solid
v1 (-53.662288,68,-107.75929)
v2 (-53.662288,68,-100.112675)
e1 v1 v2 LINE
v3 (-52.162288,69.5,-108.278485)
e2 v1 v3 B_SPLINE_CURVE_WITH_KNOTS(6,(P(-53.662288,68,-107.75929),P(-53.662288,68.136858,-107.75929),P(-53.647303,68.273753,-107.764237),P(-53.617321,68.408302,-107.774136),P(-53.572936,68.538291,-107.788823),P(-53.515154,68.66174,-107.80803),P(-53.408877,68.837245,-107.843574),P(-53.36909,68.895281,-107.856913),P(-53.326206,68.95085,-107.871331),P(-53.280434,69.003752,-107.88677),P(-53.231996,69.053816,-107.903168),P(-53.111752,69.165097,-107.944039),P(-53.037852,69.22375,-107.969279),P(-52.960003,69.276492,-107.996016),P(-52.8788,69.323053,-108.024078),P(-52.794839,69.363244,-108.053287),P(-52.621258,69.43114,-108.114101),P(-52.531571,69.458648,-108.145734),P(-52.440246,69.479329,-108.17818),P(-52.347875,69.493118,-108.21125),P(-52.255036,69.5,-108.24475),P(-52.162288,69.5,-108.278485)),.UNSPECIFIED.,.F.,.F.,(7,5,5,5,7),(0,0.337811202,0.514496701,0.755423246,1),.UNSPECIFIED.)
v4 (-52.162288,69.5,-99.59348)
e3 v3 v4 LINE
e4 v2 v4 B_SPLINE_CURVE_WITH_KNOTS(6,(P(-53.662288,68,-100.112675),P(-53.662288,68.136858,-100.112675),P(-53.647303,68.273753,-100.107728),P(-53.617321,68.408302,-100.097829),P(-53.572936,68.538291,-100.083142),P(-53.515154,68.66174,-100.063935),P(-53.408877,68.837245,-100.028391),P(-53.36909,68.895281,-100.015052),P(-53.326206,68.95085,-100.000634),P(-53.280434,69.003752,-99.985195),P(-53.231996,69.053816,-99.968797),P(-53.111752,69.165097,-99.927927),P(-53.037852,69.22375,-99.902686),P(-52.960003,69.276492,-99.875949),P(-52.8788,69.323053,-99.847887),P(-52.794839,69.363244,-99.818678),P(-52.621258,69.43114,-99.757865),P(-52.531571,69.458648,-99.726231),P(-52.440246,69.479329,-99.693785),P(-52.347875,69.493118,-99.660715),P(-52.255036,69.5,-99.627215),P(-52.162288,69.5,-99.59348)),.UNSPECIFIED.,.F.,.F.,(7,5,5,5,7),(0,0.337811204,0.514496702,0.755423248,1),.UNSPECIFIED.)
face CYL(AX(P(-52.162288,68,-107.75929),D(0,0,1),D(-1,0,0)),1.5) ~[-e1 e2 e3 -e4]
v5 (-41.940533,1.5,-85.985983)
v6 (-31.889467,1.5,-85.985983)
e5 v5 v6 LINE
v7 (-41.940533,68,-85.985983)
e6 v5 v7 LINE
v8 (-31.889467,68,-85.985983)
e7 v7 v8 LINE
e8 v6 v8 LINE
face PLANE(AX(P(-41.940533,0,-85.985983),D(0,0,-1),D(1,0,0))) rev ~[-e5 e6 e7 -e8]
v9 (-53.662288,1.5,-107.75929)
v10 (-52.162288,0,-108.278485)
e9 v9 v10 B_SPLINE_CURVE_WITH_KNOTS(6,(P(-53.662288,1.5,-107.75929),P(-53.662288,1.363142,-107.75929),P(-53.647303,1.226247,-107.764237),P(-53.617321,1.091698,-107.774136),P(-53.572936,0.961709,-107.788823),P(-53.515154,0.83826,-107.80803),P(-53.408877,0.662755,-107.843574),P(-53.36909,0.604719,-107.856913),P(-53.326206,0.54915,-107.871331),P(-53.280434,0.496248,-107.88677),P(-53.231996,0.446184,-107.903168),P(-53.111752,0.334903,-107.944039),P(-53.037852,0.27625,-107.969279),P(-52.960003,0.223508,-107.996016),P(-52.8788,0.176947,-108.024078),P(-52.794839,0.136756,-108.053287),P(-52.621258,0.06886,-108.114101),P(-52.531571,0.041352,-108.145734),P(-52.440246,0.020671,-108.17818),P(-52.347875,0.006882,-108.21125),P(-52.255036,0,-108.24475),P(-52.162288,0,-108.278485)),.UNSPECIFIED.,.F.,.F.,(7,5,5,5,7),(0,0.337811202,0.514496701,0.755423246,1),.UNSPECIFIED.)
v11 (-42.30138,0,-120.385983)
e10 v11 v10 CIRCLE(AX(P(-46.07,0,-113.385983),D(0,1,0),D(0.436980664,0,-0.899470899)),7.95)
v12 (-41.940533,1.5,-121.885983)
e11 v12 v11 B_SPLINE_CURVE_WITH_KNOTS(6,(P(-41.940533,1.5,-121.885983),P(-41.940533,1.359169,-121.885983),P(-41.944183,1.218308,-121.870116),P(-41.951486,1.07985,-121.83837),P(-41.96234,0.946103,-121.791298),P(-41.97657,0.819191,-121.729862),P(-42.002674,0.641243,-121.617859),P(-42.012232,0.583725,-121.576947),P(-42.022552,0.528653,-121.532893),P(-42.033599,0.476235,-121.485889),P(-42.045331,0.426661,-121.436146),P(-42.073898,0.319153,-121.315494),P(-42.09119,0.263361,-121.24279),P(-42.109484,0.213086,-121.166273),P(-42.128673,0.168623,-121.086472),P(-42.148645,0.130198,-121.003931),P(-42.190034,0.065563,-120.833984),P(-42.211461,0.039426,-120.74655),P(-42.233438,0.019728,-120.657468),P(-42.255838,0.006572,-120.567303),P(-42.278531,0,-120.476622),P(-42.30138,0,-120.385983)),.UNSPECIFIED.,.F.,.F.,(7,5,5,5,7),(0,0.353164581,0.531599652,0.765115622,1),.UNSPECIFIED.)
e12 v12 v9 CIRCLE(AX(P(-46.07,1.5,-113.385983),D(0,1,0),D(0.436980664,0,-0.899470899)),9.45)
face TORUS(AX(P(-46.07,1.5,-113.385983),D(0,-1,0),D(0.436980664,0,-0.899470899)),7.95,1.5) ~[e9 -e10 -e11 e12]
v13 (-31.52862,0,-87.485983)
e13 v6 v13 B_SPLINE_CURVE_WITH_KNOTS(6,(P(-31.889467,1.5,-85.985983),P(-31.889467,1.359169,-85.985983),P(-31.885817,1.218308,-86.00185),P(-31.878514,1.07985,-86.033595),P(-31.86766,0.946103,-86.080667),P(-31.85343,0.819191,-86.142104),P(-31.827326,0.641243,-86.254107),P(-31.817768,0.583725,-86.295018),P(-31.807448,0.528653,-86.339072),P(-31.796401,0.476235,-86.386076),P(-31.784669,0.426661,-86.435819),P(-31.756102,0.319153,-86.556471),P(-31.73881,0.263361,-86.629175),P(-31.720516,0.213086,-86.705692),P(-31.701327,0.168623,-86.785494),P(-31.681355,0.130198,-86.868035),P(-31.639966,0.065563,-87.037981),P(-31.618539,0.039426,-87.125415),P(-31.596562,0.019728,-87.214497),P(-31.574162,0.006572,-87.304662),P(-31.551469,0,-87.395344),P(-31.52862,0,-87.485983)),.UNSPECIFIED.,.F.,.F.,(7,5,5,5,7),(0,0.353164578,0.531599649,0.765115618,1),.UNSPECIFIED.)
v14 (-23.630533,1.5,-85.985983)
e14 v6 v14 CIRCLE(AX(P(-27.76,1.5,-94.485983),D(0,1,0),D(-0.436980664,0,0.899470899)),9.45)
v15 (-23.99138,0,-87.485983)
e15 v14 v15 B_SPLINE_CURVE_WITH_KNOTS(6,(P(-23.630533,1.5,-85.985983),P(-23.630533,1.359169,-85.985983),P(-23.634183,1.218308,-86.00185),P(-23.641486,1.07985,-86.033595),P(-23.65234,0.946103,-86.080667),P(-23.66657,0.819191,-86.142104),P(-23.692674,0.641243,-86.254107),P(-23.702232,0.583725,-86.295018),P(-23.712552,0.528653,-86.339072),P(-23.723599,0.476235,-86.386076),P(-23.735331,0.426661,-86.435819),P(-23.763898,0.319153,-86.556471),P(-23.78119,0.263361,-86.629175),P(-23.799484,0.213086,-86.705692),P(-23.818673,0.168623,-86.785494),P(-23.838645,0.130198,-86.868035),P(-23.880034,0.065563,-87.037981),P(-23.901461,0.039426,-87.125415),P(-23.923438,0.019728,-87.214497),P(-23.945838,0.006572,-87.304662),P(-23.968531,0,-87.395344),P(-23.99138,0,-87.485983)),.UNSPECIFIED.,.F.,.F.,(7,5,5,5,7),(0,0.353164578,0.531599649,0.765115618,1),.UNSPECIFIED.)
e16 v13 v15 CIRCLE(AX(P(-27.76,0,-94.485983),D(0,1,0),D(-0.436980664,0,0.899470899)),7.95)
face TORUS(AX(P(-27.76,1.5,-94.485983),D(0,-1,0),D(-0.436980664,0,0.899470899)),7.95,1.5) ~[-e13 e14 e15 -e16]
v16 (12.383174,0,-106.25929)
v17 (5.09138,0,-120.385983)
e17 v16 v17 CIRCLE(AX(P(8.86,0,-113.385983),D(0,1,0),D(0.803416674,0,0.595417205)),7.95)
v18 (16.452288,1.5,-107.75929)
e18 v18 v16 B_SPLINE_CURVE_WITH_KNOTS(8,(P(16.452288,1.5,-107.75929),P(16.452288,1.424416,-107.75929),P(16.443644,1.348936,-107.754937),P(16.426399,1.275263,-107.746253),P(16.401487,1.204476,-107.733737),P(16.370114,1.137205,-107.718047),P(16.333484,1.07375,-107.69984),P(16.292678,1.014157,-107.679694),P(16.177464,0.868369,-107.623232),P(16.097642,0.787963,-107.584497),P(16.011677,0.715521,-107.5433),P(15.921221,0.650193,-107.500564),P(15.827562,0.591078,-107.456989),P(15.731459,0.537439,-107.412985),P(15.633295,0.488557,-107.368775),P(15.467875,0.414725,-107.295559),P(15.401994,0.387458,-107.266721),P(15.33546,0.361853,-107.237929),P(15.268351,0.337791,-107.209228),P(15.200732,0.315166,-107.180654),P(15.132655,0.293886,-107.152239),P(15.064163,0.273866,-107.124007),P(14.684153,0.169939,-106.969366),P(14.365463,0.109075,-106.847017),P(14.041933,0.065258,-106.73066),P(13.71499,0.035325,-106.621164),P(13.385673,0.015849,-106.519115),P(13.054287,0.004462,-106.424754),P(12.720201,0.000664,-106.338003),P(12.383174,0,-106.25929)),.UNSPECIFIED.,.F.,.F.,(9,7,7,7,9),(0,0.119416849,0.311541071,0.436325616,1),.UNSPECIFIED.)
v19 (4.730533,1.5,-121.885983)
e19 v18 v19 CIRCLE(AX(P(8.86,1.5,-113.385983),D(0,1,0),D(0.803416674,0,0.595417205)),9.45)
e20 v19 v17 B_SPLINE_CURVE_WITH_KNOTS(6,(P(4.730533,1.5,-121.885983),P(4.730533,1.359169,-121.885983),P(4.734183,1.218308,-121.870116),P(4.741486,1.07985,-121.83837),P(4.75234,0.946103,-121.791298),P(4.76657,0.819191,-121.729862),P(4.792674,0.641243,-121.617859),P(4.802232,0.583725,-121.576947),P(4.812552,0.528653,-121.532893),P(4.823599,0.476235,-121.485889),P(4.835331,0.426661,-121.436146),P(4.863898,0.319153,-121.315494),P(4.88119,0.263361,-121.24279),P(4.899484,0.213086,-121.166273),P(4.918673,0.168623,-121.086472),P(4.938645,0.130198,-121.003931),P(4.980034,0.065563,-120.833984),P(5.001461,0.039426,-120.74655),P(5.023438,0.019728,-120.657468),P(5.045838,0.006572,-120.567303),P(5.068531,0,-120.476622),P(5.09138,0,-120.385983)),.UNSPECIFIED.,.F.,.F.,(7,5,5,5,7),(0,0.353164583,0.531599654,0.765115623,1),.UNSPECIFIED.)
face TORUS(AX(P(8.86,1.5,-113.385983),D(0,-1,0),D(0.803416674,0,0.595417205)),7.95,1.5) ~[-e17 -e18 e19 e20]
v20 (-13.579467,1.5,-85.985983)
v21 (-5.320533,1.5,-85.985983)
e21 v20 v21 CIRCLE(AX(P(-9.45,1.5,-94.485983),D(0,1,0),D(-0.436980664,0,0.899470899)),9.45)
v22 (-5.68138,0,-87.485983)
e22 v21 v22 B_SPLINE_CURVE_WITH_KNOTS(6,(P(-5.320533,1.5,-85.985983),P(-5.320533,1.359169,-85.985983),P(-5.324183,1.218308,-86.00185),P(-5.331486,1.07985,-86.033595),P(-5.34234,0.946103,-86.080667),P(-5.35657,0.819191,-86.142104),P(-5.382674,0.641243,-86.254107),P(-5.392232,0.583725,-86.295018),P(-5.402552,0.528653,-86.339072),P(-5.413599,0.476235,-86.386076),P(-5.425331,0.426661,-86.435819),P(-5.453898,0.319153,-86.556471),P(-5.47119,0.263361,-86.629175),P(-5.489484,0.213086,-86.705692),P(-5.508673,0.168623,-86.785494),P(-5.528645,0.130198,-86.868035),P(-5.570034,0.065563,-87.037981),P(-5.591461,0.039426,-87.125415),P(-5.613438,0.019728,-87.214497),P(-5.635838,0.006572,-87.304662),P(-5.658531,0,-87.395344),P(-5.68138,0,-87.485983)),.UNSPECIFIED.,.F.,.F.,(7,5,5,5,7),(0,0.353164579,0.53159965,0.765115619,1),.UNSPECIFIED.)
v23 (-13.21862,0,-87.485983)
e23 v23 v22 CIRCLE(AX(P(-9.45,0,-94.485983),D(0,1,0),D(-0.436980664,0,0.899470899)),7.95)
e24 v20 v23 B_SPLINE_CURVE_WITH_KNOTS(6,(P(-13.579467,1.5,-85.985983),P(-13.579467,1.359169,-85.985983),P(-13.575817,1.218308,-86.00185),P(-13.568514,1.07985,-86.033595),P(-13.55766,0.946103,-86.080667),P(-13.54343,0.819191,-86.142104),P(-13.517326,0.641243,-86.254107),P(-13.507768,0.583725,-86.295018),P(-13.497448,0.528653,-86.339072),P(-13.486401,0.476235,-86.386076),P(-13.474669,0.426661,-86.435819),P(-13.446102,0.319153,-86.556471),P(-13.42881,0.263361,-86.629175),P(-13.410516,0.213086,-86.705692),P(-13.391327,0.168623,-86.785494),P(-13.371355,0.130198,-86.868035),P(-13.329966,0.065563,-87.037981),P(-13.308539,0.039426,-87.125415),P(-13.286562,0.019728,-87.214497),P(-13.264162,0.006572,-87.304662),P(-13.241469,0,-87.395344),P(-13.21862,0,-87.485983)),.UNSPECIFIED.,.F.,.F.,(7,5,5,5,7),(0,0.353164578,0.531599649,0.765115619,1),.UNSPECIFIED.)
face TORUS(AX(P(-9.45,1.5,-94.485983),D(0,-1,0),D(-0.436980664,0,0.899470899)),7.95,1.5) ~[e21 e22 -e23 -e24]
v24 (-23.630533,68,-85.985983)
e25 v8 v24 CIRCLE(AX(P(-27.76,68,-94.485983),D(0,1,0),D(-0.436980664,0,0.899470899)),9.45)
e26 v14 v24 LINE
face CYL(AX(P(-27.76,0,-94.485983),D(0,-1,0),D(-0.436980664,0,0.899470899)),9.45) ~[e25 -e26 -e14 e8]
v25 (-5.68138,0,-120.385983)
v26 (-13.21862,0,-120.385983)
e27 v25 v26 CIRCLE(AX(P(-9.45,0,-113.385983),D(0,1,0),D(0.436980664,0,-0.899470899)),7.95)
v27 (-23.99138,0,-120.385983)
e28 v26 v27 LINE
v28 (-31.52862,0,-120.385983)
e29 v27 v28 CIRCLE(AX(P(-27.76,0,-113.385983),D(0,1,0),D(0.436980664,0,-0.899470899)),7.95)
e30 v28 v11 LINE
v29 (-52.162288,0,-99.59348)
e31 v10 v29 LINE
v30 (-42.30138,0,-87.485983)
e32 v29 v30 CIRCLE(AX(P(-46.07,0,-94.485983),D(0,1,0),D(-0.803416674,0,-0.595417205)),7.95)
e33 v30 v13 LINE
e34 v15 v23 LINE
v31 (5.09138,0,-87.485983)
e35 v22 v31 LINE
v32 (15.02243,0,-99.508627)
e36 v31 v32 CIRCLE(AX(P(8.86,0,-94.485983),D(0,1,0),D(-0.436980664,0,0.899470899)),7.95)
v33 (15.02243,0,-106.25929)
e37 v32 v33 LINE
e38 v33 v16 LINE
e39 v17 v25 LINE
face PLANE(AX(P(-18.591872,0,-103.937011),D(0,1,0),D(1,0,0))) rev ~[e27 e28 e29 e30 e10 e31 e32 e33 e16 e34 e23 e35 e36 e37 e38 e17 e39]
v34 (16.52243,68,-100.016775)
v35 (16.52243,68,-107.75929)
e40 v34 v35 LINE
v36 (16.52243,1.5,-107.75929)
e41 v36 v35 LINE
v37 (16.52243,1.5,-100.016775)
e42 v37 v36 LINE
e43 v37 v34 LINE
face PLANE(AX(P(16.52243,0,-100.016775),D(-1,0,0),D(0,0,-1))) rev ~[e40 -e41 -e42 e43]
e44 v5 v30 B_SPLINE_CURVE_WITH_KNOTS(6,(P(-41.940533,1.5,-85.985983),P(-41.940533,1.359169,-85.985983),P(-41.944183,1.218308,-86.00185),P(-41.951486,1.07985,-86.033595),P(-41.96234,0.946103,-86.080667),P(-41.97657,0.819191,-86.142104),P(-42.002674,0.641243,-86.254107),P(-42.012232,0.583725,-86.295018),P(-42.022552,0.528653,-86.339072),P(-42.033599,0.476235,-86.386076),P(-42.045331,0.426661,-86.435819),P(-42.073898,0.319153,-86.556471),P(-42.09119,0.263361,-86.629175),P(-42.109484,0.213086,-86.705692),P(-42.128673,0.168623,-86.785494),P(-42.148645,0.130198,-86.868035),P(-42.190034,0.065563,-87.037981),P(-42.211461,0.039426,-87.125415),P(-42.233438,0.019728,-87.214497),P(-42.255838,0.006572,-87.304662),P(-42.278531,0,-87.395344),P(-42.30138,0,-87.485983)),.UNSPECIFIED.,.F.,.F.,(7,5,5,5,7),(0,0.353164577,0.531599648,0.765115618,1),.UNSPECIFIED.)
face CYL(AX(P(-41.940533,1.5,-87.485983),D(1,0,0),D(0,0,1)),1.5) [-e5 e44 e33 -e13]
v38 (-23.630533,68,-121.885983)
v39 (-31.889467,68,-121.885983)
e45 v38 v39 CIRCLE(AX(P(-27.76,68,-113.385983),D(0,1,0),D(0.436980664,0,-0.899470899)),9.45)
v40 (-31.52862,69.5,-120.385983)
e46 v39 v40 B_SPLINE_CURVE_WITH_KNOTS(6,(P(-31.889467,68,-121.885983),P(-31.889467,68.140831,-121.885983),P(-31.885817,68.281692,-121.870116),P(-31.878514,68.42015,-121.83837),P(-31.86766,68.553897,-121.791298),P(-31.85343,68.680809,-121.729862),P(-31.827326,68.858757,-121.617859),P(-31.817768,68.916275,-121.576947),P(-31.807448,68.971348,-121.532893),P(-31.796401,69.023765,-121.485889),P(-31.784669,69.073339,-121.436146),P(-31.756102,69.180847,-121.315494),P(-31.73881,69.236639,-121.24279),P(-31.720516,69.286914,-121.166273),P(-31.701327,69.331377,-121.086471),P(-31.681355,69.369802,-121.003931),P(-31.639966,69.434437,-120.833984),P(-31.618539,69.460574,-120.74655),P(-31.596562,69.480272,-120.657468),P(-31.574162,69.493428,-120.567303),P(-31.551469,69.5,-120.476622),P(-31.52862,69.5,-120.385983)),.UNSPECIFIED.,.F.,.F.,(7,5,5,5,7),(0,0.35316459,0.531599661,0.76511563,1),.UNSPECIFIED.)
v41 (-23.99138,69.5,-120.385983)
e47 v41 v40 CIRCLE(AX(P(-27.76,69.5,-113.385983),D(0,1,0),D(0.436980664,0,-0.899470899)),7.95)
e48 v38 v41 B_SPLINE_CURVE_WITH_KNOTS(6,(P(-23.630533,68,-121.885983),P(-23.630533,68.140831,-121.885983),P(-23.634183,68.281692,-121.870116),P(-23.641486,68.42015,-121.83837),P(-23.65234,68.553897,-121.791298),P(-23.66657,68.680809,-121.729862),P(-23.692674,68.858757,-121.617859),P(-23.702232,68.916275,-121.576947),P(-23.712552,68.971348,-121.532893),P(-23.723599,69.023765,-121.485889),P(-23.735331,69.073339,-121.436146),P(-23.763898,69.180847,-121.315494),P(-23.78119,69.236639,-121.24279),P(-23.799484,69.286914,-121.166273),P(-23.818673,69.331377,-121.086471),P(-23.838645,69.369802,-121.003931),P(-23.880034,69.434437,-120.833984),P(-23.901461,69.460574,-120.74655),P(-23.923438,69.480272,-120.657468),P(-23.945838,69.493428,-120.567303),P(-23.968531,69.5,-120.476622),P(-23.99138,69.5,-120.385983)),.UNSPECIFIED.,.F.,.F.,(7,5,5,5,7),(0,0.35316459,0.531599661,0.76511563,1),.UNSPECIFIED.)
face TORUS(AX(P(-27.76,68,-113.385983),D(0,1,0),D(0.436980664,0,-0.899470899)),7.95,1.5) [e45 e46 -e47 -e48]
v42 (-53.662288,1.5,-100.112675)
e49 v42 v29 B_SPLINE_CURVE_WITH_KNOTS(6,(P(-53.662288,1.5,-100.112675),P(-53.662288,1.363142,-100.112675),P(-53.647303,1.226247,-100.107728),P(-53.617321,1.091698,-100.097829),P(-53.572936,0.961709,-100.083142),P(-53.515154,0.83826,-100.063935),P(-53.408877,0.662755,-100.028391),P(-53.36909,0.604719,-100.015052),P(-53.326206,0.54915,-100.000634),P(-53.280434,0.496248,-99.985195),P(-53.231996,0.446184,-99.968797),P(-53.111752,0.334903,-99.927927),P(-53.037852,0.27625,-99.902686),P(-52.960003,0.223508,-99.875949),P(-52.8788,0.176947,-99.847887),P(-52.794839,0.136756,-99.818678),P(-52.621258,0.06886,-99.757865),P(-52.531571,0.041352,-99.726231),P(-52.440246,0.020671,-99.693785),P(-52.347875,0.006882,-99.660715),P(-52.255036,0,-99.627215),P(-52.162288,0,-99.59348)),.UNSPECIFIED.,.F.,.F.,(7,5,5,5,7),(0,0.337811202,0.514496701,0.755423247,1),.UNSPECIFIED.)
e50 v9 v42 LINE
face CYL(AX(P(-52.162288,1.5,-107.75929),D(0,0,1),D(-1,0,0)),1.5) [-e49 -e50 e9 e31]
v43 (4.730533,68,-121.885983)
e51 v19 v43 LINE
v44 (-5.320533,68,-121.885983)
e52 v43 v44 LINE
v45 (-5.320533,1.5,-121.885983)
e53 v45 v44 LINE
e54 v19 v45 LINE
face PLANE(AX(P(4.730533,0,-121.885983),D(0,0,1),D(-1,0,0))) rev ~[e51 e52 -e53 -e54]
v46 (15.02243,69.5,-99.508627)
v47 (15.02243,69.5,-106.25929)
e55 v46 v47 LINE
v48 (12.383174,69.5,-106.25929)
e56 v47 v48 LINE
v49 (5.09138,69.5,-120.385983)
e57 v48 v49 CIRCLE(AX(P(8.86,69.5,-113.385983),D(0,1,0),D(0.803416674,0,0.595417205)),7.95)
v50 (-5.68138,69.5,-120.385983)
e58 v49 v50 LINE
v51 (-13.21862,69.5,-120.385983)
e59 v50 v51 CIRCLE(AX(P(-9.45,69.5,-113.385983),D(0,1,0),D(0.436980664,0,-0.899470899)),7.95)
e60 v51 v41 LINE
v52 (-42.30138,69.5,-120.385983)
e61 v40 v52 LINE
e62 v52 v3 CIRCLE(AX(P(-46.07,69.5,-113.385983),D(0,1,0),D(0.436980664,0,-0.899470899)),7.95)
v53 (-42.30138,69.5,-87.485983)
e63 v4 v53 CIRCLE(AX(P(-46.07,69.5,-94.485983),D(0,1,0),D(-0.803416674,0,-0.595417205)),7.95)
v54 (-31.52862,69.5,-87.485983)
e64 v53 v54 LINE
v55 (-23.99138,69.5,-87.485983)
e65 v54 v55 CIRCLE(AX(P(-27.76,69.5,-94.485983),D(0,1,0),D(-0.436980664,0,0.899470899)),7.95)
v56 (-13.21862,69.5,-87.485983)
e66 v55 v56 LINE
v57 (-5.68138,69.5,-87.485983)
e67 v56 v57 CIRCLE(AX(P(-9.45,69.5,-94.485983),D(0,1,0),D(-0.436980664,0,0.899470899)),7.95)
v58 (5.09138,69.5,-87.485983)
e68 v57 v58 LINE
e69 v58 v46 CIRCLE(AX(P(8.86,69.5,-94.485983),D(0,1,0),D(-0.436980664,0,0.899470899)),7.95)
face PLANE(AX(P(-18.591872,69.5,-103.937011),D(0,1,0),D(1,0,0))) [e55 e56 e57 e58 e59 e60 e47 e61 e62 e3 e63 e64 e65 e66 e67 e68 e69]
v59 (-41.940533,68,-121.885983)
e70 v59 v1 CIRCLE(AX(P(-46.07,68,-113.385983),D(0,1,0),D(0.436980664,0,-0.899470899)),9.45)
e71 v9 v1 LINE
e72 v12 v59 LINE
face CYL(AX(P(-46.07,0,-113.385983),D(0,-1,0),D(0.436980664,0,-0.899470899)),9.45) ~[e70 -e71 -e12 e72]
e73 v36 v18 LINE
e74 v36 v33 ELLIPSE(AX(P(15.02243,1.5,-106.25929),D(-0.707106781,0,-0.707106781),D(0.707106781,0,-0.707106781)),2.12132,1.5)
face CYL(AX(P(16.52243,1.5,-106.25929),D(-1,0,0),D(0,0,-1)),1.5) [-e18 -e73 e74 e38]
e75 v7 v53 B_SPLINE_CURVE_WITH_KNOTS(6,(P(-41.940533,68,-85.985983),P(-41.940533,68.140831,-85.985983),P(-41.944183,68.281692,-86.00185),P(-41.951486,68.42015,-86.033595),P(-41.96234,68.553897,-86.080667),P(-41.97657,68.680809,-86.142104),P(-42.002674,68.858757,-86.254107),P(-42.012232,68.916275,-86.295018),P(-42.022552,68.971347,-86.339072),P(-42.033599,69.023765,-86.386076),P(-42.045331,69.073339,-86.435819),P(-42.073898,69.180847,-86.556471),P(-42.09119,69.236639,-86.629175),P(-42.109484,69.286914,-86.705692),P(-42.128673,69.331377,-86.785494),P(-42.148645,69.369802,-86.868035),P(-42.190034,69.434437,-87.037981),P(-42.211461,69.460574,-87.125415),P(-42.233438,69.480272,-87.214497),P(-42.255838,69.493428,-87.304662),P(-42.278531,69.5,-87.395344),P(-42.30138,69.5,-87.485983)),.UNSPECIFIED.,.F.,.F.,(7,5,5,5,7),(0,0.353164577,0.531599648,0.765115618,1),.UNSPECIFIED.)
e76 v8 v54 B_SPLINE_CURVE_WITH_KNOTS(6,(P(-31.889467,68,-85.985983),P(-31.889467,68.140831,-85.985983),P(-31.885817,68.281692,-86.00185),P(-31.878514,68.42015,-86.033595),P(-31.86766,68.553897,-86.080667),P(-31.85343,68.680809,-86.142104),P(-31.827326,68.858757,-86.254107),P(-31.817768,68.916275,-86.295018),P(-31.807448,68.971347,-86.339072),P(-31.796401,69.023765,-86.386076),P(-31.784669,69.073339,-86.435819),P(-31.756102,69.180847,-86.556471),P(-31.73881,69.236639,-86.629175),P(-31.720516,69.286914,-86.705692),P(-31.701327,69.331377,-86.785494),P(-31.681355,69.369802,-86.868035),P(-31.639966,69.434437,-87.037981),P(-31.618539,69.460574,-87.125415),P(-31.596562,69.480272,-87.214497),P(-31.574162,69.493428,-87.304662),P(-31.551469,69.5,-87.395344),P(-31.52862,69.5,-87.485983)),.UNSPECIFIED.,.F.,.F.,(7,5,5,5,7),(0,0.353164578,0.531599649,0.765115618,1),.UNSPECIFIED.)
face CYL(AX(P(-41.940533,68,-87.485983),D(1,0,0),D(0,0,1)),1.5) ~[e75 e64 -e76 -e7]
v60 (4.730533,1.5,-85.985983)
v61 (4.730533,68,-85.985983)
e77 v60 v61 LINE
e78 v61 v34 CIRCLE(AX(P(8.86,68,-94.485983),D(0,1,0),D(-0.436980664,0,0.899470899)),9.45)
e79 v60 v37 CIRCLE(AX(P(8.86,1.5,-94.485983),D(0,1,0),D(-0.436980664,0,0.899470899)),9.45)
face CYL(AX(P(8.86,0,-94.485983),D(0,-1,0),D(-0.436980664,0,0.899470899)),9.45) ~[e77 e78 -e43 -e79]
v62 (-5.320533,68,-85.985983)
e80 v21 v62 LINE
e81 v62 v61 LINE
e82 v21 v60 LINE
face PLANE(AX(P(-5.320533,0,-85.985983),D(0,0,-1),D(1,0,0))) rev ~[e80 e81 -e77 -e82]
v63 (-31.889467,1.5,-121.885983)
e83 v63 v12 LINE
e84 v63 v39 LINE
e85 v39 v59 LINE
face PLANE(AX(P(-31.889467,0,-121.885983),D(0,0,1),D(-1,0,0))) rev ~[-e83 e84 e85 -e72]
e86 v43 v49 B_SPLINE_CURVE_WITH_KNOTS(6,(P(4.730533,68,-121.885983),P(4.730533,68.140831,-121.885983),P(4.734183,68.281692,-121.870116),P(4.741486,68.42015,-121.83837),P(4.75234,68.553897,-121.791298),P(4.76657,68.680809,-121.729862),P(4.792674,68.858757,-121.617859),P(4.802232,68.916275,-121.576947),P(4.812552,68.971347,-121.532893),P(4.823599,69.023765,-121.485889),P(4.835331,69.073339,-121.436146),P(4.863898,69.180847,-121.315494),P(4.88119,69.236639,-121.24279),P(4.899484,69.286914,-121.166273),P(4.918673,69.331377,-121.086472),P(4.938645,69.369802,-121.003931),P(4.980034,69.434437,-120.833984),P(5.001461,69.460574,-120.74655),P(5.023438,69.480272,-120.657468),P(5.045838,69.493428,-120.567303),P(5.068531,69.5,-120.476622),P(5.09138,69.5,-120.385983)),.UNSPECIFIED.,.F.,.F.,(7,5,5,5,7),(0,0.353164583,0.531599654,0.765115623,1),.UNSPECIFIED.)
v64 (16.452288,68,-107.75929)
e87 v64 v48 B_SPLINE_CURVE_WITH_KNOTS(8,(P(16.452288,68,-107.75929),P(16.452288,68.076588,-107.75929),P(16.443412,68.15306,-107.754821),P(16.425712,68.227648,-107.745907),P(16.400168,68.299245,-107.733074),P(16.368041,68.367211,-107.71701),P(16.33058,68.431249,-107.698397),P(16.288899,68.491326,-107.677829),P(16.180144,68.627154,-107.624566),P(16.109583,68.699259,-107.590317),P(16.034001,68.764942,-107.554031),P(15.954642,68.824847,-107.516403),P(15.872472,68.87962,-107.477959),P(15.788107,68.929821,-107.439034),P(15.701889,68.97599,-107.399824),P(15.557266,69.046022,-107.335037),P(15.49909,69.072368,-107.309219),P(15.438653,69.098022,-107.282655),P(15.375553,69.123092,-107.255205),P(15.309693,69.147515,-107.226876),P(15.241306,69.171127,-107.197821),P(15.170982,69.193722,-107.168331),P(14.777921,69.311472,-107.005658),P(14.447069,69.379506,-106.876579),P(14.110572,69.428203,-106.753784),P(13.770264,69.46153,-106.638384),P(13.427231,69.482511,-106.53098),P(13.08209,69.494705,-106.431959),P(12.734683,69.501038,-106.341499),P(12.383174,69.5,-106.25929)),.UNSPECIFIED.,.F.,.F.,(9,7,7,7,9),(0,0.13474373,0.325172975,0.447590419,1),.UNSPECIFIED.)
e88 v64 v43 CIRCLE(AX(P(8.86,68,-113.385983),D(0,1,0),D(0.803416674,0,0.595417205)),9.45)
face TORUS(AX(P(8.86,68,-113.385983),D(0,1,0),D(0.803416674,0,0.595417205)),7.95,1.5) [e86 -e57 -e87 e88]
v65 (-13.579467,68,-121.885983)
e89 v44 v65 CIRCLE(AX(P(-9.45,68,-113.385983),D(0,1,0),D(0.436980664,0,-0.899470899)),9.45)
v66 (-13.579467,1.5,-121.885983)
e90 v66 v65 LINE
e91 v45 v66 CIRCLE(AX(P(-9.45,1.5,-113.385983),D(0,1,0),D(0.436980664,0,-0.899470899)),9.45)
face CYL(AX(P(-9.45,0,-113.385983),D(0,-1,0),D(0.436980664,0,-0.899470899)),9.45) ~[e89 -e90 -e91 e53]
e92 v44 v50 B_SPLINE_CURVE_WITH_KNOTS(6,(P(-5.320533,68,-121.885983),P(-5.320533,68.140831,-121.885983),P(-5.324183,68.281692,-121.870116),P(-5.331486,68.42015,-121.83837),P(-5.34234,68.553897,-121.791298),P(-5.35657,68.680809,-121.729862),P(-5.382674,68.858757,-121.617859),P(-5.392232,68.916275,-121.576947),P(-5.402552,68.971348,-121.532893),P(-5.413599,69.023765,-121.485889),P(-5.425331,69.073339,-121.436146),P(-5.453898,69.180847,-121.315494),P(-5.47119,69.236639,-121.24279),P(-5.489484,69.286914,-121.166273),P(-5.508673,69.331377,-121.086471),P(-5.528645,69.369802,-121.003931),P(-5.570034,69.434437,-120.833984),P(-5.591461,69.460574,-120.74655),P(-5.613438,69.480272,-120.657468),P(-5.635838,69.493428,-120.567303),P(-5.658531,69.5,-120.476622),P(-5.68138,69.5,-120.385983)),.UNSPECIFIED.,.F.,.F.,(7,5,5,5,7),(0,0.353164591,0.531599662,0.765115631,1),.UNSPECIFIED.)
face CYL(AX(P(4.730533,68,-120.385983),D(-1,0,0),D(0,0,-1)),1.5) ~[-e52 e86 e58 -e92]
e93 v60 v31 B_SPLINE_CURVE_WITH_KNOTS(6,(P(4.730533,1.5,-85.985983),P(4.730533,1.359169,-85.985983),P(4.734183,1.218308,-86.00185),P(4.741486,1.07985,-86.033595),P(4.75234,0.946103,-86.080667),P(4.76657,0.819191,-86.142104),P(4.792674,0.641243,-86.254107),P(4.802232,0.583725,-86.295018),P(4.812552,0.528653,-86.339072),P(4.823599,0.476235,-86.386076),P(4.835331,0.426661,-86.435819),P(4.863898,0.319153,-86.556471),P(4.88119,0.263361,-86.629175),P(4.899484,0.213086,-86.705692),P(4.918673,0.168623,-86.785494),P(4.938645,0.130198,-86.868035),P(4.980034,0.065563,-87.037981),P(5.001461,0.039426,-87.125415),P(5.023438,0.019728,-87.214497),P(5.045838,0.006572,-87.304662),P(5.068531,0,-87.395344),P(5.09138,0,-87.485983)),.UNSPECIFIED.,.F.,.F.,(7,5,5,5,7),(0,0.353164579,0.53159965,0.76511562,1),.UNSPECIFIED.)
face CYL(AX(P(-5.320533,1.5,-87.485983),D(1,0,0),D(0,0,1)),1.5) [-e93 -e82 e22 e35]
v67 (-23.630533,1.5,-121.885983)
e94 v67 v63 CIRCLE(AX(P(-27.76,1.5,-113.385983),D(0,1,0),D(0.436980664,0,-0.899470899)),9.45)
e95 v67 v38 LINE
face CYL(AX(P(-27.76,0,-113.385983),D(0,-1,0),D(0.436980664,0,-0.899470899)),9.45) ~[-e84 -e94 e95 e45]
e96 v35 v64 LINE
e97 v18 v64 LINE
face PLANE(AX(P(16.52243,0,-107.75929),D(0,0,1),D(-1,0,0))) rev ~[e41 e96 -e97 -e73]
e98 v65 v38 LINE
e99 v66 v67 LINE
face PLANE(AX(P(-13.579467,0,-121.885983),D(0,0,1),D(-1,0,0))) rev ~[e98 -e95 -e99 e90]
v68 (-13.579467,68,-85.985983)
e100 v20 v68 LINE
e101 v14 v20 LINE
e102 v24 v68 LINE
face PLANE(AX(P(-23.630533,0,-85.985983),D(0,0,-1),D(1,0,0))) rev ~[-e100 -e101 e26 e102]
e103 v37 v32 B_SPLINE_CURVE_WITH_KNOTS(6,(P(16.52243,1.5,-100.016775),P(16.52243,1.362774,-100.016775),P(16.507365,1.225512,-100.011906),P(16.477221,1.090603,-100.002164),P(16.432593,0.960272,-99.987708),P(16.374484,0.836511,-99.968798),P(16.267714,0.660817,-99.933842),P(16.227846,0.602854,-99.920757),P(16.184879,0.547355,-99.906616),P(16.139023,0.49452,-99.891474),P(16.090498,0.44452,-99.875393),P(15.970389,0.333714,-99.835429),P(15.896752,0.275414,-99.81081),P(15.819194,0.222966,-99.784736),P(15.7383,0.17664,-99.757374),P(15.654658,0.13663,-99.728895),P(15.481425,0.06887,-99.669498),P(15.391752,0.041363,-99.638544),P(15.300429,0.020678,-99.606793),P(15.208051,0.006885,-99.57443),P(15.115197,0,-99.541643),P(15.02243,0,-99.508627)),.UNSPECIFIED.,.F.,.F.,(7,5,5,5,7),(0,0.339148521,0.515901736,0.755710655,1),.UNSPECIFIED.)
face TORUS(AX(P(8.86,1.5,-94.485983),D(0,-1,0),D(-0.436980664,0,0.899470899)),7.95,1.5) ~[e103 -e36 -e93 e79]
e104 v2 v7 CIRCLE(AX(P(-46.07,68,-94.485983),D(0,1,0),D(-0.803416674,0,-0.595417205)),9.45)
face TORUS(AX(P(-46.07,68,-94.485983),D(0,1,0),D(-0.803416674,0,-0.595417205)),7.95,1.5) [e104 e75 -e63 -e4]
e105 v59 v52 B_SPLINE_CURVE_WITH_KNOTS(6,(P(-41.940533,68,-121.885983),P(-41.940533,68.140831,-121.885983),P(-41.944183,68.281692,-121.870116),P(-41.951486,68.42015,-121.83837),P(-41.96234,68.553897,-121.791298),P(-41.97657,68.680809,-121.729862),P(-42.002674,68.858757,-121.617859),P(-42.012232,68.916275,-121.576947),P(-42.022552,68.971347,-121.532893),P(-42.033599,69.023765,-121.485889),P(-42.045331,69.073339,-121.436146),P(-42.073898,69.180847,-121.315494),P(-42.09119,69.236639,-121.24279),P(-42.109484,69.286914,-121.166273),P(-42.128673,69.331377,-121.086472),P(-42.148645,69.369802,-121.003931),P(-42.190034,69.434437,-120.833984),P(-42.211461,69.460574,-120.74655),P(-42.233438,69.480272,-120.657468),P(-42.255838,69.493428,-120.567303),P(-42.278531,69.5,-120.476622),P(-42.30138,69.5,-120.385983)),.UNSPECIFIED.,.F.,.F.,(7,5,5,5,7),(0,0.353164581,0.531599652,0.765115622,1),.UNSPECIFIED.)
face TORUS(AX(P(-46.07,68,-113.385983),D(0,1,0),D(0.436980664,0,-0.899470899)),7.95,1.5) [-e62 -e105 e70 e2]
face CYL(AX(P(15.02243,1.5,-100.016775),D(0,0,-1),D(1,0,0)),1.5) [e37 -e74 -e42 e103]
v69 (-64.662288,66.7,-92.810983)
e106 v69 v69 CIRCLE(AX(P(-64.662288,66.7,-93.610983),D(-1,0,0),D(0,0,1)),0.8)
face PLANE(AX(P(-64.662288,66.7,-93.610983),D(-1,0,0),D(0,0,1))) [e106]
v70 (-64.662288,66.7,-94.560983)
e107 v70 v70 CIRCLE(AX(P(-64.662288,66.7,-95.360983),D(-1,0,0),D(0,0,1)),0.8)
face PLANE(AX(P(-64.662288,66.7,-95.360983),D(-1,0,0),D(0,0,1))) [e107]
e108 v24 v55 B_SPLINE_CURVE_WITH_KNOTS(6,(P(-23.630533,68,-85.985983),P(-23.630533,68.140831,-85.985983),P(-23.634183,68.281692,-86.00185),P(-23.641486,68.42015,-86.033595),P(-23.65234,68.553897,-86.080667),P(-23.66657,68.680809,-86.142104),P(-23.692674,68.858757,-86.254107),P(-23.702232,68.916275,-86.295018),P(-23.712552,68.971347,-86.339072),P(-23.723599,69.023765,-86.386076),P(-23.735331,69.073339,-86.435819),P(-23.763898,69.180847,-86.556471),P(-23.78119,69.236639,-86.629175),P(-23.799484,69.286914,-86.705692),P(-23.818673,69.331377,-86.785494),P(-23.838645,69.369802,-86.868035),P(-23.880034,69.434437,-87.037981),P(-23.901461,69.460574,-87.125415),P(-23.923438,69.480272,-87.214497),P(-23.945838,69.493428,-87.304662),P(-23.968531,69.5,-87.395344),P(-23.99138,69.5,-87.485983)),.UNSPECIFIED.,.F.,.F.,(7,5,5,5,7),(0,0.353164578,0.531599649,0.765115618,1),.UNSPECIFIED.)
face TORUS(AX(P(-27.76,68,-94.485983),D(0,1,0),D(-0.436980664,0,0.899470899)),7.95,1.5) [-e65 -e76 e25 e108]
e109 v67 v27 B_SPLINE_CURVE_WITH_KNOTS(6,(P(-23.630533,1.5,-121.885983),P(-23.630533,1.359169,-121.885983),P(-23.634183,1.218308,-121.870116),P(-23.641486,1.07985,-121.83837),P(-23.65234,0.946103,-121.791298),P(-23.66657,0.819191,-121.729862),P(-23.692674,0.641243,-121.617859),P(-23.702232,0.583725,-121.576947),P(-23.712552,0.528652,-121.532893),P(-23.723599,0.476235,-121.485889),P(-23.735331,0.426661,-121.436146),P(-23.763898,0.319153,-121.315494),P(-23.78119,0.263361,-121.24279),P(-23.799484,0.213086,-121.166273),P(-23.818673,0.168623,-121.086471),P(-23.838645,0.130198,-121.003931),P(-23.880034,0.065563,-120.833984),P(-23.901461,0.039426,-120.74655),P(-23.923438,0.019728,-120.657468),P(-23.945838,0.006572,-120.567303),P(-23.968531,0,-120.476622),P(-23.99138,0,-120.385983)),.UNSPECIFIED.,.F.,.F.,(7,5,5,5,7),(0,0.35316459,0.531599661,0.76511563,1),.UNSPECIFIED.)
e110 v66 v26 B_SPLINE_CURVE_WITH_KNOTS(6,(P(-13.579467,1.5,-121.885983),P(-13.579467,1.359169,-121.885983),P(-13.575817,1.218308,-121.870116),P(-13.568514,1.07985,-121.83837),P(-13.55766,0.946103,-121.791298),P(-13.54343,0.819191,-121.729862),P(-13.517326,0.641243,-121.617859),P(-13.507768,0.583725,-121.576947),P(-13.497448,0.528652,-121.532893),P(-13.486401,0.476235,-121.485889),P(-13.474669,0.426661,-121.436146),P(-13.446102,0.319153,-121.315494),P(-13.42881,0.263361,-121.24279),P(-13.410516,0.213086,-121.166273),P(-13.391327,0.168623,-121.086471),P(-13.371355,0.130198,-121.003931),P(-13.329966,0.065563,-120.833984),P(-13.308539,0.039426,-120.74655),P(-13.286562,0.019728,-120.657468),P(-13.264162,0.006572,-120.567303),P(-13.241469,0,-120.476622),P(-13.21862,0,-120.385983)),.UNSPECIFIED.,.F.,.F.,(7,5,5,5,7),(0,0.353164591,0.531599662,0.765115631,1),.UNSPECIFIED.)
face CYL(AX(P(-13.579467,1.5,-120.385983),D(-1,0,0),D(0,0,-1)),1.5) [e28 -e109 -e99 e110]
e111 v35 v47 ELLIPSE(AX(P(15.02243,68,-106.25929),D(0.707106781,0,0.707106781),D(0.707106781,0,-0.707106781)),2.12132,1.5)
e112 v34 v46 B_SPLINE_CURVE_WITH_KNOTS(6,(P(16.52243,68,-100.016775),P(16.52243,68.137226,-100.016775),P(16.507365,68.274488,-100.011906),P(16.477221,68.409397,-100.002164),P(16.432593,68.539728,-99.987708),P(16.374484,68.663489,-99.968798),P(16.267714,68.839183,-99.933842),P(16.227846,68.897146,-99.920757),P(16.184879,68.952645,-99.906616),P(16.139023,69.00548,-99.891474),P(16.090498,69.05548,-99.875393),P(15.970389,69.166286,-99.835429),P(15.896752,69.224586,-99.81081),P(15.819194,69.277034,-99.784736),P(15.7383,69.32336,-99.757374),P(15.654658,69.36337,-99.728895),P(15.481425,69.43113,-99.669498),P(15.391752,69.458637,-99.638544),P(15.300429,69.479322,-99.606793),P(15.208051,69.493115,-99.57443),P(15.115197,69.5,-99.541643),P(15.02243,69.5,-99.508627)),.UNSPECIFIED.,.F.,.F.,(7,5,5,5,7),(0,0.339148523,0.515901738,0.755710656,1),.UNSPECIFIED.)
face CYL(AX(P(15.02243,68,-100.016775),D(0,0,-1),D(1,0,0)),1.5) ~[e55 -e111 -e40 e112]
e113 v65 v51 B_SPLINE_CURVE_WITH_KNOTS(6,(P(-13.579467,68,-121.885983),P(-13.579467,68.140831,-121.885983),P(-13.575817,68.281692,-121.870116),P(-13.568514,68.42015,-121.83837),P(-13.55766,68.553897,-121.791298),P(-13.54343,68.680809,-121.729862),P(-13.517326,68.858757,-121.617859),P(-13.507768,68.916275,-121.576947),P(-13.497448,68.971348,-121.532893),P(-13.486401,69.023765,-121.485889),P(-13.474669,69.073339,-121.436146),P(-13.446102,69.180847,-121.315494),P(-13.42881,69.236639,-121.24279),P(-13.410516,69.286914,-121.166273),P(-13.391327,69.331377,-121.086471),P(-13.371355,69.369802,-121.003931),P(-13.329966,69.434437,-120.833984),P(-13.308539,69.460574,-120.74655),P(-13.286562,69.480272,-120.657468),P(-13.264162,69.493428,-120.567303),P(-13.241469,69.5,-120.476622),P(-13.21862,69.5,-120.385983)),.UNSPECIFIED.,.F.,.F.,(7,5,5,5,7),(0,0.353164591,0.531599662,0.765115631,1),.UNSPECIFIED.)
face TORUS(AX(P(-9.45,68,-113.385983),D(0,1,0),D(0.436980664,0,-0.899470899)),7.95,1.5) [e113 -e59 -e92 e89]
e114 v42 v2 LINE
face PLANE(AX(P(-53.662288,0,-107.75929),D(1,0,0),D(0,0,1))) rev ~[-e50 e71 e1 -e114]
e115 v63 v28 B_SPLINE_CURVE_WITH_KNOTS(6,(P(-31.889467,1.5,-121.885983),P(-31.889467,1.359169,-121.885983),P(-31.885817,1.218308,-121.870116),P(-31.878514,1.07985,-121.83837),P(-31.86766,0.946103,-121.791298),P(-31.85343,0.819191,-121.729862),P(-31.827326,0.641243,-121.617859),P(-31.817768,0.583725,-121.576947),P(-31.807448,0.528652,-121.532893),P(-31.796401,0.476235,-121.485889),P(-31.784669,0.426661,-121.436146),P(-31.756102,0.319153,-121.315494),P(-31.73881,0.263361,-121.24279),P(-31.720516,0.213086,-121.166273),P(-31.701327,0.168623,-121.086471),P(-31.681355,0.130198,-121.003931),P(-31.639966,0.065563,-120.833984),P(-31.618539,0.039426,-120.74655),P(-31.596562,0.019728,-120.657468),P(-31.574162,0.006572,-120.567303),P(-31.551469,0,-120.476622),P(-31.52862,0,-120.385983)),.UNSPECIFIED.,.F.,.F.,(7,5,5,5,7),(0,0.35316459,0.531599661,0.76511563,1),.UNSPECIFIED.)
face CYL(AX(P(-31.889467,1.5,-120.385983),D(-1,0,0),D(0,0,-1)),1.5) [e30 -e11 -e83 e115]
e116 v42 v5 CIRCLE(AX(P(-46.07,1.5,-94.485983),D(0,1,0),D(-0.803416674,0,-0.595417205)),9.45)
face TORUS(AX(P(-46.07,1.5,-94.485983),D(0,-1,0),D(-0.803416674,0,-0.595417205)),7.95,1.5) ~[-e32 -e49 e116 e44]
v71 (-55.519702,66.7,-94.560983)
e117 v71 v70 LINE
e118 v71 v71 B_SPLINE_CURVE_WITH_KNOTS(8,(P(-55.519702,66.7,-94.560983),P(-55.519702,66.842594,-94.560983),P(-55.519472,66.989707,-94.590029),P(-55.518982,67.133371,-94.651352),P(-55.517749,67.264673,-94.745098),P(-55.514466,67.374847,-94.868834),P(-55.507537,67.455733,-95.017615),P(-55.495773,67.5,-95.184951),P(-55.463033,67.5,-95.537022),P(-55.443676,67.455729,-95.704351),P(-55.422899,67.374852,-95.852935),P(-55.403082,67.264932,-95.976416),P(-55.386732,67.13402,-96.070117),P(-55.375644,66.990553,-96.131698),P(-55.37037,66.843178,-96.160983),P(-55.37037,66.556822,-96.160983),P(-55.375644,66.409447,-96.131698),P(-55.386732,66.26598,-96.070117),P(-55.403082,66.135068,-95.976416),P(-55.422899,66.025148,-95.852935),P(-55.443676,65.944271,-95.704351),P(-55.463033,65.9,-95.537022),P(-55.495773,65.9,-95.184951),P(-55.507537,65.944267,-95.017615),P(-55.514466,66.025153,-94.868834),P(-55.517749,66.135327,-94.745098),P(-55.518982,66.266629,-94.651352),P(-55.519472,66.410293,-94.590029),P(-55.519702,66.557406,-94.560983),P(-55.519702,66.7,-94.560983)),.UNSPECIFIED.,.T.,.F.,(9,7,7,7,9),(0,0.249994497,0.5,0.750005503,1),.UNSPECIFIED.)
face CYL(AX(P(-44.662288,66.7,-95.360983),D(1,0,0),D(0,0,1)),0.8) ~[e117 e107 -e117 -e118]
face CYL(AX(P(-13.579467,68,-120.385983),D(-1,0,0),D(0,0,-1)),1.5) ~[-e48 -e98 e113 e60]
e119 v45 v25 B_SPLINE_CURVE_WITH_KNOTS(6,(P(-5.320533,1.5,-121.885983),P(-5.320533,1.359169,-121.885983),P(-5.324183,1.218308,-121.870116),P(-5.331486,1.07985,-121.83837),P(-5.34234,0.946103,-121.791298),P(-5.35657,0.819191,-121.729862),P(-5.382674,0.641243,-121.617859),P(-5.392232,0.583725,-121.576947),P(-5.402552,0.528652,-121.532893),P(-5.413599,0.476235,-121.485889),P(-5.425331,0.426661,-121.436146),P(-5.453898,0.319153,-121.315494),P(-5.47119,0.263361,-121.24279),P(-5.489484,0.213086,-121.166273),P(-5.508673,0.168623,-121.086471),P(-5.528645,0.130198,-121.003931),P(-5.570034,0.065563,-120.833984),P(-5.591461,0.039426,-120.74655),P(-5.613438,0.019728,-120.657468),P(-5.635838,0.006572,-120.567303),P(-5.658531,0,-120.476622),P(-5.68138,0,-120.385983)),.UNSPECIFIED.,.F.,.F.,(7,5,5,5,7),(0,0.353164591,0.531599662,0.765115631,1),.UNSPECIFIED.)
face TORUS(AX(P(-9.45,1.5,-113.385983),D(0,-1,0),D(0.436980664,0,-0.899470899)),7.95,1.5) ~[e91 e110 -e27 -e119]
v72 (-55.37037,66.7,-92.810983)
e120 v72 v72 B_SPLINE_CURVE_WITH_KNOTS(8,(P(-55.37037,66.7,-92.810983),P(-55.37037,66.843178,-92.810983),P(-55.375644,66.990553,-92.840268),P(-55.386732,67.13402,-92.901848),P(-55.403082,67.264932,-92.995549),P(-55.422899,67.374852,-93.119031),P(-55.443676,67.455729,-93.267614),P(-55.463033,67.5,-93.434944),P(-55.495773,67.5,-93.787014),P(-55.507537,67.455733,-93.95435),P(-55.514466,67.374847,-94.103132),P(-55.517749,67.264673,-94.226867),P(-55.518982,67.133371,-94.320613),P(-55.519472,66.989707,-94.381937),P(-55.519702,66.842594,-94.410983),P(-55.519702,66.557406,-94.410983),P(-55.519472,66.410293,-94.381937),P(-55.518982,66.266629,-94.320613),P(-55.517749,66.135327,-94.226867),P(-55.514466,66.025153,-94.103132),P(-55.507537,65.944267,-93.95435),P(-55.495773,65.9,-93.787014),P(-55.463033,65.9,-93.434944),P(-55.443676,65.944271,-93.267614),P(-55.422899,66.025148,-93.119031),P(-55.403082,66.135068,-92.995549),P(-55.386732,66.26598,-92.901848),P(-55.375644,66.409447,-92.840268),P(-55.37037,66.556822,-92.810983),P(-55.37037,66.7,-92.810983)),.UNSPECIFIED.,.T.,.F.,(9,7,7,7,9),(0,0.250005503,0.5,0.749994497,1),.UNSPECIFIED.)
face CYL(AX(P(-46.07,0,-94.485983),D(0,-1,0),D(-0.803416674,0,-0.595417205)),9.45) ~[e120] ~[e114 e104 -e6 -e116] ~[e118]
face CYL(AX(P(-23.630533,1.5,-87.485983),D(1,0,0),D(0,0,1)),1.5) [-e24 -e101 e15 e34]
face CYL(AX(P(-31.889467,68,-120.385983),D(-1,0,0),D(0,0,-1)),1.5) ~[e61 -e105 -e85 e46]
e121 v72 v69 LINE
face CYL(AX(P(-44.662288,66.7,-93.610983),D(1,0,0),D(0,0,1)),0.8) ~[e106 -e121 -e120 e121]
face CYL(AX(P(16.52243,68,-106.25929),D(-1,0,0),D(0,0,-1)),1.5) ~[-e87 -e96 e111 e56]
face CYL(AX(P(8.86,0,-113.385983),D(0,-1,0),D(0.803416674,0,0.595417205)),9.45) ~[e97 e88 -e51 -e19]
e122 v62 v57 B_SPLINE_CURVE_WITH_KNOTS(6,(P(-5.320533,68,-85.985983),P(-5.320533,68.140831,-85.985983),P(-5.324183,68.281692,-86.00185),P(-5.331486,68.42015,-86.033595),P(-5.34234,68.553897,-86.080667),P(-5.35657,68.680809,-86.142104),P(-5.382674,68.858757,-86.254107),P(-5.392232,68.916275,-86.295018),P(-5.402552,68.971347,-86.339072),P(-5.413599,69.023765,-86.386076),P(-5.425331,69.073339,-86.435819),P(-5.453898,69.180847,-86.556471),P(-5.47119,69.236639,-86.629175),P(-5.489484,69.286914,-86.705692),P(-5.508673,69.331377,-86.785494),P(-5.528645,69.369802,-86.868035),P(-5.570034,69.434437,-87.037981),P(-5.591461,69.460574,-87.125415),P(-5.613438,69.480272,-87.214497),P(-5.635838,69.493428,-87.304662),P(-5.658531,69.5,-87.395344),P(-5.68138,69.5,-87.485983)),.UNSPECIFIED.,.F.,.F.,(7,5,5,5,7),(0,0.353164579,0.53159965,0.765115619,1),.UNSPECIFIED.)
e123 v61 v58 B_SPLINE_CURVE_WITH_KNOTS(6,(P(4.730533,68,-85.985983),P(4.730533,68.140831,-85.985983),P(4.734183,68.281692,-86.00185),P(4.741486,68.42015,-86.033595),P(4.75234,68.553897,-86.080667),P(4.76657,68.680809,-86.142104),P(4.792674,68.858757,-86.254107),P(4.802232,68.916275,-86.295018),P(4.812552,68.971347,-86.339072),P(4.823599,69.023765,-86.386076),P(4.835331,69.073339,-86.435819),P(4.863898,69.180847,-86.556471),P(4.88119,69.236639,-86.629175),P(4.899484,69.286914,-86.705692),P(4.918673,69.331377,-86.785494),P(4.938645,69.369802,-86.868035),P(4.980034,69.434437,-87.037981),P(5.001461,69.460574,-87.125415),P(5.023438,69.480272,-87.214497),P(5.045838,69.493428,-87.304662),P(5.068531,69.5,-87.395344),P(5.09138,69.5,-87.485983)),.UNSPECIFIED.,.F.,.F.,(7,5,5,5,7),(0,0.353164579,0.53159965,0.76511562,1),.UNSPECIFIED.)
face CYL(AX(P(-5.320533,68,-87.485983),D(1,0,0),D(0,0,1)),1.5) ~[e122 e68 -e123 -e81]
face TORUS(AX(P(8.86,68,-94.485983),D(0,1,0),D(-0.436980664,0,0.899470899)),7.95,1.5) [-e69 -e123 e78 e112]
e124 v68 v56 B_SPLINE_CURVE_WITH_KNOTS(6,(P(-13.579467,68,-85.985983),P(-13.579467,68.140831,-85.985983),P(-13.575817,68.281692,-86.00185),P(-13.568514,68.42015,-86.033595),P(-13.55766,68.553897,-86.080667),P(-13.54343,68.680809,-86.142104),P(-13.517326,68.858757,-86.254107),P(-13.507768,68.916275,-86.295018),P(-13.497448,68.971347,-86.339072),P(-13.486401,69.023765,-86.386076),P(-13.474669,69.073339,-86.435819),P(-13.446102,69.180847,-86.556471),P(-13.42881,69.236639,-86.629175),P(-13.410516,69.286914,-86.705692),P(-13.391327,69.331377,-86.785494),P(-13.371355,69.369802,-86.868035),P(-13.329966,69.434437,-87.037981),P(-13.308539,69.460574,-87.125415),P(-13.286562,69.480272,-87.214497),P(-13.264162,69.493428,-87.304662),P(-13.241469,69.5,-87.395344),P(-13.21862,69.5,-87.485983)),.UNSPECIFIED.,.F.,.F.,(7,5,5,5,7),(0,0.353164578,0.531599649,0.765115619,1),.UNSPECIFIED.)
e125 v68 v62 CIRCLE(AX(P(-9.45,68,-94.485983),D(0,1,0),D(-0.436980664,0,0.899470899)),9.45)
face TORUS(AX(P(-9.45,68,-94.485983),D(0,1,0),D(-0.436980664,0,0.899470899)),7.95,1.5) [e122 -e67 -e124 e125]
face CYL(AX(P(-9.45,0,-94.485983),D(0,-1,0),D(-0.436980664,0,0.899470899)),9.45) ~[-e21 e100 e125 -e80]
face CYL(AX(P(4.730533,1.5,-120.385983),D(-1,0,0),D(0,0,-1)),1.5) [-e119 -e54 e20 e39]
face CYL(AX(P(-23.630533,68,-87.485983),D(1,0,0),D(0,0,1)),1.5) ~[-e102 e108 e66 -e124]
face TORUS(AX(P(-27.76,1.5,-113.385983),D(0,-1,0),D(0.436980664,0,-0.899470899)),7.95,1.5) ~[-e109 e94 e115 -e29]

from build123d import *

# Parameters (mm, degrees)
BOSS_EXTRUDE1_DEPTH      = 69.5
FILLET1_R                = 1.5
BOSS_EXTRUDE4_DEPTH      = 10
BOSS_EXTRUDE4_DEPTH_BACK = 10
SKETCH6_R                = 0.8


with BuildPart() as part:
    # Sketch2 → Boss-Extrude1 (new body)
    with BuildSketch(Plane(origin=(0, 0, 0), x_dir=(1, 0, 0), z_dir=(0, 1, 0))):
        with BuildLine():
            Line((4.730532722, 121.885982712), (-5.320532722, 121.885982712))
            ThreePointArc((-5.320532722, 121.885982712), (-9.45, 122.835982712), (-13.579467278, 121.885982712))
            Line((-13.579467278, 121.885982712), (-23.630532722, 121.885982712))
            ThreePointArc((-23.630532722, 121.885982712), (-27.76, 122.835982712), (-31.889467278, 121.885982712))
            Line((-31.889467278, 121.885982712), (-41.940532722, 121.885982712))
            ThreePointArc((-41.940532722, 121.885982712), (-53.342457764, 119.42037233), (-53.662287572, 107.759290129))
            Line((-53.662287572, 107.759290129), (-53.662287572, 100.112675295))
            ThreePointArc((-53.662287572, 100.112675295), (-53.342457764, 88.451593093), (-41.940532722, 85.985982712))
            Line((-41.940532722, 85.985982712), (-31.889467278, 85.985982712))
            ThreePointArc((-31.889467278, 85.985982712), (-27.76, 85.035982712), (-23.630532722, 85.985982712))
            Line((-23.630532722, 85.985982712), (-13.579467278, 85.985982712))
            ThreePointArc((-13.579467278, 85.985982712), (-9.45, 85.035982712), (-5.320532722, 85.985982712))
            Line((-5.320532722, 85.985982712), (4.730532722, 85.985982712))
            ThreePointArc((4.730532722, 85.985982712), (16.094379198, 88.405994421), (16.522429884, 100.016775447))
            Line((16.522429884, 100.016775447), (16.522429884, 107.759290129))
            Line((16.522429884, 107.759290129), (16.452287572, 107.759290129))
            ThreePointArc((16.452287572, 107.759290129), (16.132457764, 119.42037233), (4.730532722, 121.885982712))
        make_face()
    extrude(amount=BOSS_EXTRUDE1_DEPTH)

    # Fillet1
    fillet1_edges = [part.edges().sort_by_distance(p)[0] for p in [
        (-9.45, 69.5, -122.835982712),
        (-9.45, 0, -122.835982712),
        (16.132457764, 69.5, -119.42037233),
        (16.132457764, 0, -119.42037233),
        (16.522429884, 69.5, -103.888032788),
        (16.487358728, 69.5, -107.759290129),
        (-53.662287572, 69.5, -103.935982712),
        (16.522429884, 0, -103.888032788),
        (16.487358728, 0, -107.759290129),
        (-53.662287572, 0, -103.935982712),
        (-0.295, 69.5, -121.885982712),
        (-0.295, 0, -121.885982712),
        (-18.605, 69.5, -121.885982712),
        (-18.605, 0, -121.885982712),
        (-36.915, 69.5, -121.885982712),
        (-36.915, 0, -121.885982712),
        (-0.295, 69.5, -85.985982712),
        (-0.295, 0, -85.985982712),
        (-36.915, 69.5, -85.985982712),
        (-36.915, 0, -85.985982712),
        (-18.605, 69.5, -85.985982712),
        (-18.605, 0, -85.985982712),
        (16.094379198, 69.5, -88.405994421),
        (16.094379198, 0, -88.405994421),
        (-9.45, 69.5, -85.035982712),
        (-9.45, 0, -85.035982712),
        (-27.76, 69.5, -85.035982712),
        (-27.76, 0, -85.035982712),
        (-53.342457764, 69.5, -88.451593093),
        (-53.342457764, 0, -88.451593093),
        (-53.342457764, 69.5, -119.42037233),
        (-53.342457764, 0, -119.42037233),
        (-27.76, 69.5, -122.835982712),
        (-27.76, 0, -122.835982712),
    ]]
    fillet(fillet1_edges, radius=FILLET1_R)

    # Sketch6 → Boss-Extrude4 (add, two sides: drawn at the far end of the back side and taken through both)
    with BuildSketch(Plane.ZY.offset(54.662287572).offset(-BOSS_EXTRUDE4_DEPTH_BACK)):
        with Locations((-95.360982712, 66.7)):
            Circle(SKETCH6_R)
        with Locations((-93.610982712, 66.7)):
            Circle(SKETCH6_R)
    extrude(amount=BOSS_EXTRUDE4_DEPTH + BOSS_EXTRUDE4_DEPTH_BACK)


solid = part.part
